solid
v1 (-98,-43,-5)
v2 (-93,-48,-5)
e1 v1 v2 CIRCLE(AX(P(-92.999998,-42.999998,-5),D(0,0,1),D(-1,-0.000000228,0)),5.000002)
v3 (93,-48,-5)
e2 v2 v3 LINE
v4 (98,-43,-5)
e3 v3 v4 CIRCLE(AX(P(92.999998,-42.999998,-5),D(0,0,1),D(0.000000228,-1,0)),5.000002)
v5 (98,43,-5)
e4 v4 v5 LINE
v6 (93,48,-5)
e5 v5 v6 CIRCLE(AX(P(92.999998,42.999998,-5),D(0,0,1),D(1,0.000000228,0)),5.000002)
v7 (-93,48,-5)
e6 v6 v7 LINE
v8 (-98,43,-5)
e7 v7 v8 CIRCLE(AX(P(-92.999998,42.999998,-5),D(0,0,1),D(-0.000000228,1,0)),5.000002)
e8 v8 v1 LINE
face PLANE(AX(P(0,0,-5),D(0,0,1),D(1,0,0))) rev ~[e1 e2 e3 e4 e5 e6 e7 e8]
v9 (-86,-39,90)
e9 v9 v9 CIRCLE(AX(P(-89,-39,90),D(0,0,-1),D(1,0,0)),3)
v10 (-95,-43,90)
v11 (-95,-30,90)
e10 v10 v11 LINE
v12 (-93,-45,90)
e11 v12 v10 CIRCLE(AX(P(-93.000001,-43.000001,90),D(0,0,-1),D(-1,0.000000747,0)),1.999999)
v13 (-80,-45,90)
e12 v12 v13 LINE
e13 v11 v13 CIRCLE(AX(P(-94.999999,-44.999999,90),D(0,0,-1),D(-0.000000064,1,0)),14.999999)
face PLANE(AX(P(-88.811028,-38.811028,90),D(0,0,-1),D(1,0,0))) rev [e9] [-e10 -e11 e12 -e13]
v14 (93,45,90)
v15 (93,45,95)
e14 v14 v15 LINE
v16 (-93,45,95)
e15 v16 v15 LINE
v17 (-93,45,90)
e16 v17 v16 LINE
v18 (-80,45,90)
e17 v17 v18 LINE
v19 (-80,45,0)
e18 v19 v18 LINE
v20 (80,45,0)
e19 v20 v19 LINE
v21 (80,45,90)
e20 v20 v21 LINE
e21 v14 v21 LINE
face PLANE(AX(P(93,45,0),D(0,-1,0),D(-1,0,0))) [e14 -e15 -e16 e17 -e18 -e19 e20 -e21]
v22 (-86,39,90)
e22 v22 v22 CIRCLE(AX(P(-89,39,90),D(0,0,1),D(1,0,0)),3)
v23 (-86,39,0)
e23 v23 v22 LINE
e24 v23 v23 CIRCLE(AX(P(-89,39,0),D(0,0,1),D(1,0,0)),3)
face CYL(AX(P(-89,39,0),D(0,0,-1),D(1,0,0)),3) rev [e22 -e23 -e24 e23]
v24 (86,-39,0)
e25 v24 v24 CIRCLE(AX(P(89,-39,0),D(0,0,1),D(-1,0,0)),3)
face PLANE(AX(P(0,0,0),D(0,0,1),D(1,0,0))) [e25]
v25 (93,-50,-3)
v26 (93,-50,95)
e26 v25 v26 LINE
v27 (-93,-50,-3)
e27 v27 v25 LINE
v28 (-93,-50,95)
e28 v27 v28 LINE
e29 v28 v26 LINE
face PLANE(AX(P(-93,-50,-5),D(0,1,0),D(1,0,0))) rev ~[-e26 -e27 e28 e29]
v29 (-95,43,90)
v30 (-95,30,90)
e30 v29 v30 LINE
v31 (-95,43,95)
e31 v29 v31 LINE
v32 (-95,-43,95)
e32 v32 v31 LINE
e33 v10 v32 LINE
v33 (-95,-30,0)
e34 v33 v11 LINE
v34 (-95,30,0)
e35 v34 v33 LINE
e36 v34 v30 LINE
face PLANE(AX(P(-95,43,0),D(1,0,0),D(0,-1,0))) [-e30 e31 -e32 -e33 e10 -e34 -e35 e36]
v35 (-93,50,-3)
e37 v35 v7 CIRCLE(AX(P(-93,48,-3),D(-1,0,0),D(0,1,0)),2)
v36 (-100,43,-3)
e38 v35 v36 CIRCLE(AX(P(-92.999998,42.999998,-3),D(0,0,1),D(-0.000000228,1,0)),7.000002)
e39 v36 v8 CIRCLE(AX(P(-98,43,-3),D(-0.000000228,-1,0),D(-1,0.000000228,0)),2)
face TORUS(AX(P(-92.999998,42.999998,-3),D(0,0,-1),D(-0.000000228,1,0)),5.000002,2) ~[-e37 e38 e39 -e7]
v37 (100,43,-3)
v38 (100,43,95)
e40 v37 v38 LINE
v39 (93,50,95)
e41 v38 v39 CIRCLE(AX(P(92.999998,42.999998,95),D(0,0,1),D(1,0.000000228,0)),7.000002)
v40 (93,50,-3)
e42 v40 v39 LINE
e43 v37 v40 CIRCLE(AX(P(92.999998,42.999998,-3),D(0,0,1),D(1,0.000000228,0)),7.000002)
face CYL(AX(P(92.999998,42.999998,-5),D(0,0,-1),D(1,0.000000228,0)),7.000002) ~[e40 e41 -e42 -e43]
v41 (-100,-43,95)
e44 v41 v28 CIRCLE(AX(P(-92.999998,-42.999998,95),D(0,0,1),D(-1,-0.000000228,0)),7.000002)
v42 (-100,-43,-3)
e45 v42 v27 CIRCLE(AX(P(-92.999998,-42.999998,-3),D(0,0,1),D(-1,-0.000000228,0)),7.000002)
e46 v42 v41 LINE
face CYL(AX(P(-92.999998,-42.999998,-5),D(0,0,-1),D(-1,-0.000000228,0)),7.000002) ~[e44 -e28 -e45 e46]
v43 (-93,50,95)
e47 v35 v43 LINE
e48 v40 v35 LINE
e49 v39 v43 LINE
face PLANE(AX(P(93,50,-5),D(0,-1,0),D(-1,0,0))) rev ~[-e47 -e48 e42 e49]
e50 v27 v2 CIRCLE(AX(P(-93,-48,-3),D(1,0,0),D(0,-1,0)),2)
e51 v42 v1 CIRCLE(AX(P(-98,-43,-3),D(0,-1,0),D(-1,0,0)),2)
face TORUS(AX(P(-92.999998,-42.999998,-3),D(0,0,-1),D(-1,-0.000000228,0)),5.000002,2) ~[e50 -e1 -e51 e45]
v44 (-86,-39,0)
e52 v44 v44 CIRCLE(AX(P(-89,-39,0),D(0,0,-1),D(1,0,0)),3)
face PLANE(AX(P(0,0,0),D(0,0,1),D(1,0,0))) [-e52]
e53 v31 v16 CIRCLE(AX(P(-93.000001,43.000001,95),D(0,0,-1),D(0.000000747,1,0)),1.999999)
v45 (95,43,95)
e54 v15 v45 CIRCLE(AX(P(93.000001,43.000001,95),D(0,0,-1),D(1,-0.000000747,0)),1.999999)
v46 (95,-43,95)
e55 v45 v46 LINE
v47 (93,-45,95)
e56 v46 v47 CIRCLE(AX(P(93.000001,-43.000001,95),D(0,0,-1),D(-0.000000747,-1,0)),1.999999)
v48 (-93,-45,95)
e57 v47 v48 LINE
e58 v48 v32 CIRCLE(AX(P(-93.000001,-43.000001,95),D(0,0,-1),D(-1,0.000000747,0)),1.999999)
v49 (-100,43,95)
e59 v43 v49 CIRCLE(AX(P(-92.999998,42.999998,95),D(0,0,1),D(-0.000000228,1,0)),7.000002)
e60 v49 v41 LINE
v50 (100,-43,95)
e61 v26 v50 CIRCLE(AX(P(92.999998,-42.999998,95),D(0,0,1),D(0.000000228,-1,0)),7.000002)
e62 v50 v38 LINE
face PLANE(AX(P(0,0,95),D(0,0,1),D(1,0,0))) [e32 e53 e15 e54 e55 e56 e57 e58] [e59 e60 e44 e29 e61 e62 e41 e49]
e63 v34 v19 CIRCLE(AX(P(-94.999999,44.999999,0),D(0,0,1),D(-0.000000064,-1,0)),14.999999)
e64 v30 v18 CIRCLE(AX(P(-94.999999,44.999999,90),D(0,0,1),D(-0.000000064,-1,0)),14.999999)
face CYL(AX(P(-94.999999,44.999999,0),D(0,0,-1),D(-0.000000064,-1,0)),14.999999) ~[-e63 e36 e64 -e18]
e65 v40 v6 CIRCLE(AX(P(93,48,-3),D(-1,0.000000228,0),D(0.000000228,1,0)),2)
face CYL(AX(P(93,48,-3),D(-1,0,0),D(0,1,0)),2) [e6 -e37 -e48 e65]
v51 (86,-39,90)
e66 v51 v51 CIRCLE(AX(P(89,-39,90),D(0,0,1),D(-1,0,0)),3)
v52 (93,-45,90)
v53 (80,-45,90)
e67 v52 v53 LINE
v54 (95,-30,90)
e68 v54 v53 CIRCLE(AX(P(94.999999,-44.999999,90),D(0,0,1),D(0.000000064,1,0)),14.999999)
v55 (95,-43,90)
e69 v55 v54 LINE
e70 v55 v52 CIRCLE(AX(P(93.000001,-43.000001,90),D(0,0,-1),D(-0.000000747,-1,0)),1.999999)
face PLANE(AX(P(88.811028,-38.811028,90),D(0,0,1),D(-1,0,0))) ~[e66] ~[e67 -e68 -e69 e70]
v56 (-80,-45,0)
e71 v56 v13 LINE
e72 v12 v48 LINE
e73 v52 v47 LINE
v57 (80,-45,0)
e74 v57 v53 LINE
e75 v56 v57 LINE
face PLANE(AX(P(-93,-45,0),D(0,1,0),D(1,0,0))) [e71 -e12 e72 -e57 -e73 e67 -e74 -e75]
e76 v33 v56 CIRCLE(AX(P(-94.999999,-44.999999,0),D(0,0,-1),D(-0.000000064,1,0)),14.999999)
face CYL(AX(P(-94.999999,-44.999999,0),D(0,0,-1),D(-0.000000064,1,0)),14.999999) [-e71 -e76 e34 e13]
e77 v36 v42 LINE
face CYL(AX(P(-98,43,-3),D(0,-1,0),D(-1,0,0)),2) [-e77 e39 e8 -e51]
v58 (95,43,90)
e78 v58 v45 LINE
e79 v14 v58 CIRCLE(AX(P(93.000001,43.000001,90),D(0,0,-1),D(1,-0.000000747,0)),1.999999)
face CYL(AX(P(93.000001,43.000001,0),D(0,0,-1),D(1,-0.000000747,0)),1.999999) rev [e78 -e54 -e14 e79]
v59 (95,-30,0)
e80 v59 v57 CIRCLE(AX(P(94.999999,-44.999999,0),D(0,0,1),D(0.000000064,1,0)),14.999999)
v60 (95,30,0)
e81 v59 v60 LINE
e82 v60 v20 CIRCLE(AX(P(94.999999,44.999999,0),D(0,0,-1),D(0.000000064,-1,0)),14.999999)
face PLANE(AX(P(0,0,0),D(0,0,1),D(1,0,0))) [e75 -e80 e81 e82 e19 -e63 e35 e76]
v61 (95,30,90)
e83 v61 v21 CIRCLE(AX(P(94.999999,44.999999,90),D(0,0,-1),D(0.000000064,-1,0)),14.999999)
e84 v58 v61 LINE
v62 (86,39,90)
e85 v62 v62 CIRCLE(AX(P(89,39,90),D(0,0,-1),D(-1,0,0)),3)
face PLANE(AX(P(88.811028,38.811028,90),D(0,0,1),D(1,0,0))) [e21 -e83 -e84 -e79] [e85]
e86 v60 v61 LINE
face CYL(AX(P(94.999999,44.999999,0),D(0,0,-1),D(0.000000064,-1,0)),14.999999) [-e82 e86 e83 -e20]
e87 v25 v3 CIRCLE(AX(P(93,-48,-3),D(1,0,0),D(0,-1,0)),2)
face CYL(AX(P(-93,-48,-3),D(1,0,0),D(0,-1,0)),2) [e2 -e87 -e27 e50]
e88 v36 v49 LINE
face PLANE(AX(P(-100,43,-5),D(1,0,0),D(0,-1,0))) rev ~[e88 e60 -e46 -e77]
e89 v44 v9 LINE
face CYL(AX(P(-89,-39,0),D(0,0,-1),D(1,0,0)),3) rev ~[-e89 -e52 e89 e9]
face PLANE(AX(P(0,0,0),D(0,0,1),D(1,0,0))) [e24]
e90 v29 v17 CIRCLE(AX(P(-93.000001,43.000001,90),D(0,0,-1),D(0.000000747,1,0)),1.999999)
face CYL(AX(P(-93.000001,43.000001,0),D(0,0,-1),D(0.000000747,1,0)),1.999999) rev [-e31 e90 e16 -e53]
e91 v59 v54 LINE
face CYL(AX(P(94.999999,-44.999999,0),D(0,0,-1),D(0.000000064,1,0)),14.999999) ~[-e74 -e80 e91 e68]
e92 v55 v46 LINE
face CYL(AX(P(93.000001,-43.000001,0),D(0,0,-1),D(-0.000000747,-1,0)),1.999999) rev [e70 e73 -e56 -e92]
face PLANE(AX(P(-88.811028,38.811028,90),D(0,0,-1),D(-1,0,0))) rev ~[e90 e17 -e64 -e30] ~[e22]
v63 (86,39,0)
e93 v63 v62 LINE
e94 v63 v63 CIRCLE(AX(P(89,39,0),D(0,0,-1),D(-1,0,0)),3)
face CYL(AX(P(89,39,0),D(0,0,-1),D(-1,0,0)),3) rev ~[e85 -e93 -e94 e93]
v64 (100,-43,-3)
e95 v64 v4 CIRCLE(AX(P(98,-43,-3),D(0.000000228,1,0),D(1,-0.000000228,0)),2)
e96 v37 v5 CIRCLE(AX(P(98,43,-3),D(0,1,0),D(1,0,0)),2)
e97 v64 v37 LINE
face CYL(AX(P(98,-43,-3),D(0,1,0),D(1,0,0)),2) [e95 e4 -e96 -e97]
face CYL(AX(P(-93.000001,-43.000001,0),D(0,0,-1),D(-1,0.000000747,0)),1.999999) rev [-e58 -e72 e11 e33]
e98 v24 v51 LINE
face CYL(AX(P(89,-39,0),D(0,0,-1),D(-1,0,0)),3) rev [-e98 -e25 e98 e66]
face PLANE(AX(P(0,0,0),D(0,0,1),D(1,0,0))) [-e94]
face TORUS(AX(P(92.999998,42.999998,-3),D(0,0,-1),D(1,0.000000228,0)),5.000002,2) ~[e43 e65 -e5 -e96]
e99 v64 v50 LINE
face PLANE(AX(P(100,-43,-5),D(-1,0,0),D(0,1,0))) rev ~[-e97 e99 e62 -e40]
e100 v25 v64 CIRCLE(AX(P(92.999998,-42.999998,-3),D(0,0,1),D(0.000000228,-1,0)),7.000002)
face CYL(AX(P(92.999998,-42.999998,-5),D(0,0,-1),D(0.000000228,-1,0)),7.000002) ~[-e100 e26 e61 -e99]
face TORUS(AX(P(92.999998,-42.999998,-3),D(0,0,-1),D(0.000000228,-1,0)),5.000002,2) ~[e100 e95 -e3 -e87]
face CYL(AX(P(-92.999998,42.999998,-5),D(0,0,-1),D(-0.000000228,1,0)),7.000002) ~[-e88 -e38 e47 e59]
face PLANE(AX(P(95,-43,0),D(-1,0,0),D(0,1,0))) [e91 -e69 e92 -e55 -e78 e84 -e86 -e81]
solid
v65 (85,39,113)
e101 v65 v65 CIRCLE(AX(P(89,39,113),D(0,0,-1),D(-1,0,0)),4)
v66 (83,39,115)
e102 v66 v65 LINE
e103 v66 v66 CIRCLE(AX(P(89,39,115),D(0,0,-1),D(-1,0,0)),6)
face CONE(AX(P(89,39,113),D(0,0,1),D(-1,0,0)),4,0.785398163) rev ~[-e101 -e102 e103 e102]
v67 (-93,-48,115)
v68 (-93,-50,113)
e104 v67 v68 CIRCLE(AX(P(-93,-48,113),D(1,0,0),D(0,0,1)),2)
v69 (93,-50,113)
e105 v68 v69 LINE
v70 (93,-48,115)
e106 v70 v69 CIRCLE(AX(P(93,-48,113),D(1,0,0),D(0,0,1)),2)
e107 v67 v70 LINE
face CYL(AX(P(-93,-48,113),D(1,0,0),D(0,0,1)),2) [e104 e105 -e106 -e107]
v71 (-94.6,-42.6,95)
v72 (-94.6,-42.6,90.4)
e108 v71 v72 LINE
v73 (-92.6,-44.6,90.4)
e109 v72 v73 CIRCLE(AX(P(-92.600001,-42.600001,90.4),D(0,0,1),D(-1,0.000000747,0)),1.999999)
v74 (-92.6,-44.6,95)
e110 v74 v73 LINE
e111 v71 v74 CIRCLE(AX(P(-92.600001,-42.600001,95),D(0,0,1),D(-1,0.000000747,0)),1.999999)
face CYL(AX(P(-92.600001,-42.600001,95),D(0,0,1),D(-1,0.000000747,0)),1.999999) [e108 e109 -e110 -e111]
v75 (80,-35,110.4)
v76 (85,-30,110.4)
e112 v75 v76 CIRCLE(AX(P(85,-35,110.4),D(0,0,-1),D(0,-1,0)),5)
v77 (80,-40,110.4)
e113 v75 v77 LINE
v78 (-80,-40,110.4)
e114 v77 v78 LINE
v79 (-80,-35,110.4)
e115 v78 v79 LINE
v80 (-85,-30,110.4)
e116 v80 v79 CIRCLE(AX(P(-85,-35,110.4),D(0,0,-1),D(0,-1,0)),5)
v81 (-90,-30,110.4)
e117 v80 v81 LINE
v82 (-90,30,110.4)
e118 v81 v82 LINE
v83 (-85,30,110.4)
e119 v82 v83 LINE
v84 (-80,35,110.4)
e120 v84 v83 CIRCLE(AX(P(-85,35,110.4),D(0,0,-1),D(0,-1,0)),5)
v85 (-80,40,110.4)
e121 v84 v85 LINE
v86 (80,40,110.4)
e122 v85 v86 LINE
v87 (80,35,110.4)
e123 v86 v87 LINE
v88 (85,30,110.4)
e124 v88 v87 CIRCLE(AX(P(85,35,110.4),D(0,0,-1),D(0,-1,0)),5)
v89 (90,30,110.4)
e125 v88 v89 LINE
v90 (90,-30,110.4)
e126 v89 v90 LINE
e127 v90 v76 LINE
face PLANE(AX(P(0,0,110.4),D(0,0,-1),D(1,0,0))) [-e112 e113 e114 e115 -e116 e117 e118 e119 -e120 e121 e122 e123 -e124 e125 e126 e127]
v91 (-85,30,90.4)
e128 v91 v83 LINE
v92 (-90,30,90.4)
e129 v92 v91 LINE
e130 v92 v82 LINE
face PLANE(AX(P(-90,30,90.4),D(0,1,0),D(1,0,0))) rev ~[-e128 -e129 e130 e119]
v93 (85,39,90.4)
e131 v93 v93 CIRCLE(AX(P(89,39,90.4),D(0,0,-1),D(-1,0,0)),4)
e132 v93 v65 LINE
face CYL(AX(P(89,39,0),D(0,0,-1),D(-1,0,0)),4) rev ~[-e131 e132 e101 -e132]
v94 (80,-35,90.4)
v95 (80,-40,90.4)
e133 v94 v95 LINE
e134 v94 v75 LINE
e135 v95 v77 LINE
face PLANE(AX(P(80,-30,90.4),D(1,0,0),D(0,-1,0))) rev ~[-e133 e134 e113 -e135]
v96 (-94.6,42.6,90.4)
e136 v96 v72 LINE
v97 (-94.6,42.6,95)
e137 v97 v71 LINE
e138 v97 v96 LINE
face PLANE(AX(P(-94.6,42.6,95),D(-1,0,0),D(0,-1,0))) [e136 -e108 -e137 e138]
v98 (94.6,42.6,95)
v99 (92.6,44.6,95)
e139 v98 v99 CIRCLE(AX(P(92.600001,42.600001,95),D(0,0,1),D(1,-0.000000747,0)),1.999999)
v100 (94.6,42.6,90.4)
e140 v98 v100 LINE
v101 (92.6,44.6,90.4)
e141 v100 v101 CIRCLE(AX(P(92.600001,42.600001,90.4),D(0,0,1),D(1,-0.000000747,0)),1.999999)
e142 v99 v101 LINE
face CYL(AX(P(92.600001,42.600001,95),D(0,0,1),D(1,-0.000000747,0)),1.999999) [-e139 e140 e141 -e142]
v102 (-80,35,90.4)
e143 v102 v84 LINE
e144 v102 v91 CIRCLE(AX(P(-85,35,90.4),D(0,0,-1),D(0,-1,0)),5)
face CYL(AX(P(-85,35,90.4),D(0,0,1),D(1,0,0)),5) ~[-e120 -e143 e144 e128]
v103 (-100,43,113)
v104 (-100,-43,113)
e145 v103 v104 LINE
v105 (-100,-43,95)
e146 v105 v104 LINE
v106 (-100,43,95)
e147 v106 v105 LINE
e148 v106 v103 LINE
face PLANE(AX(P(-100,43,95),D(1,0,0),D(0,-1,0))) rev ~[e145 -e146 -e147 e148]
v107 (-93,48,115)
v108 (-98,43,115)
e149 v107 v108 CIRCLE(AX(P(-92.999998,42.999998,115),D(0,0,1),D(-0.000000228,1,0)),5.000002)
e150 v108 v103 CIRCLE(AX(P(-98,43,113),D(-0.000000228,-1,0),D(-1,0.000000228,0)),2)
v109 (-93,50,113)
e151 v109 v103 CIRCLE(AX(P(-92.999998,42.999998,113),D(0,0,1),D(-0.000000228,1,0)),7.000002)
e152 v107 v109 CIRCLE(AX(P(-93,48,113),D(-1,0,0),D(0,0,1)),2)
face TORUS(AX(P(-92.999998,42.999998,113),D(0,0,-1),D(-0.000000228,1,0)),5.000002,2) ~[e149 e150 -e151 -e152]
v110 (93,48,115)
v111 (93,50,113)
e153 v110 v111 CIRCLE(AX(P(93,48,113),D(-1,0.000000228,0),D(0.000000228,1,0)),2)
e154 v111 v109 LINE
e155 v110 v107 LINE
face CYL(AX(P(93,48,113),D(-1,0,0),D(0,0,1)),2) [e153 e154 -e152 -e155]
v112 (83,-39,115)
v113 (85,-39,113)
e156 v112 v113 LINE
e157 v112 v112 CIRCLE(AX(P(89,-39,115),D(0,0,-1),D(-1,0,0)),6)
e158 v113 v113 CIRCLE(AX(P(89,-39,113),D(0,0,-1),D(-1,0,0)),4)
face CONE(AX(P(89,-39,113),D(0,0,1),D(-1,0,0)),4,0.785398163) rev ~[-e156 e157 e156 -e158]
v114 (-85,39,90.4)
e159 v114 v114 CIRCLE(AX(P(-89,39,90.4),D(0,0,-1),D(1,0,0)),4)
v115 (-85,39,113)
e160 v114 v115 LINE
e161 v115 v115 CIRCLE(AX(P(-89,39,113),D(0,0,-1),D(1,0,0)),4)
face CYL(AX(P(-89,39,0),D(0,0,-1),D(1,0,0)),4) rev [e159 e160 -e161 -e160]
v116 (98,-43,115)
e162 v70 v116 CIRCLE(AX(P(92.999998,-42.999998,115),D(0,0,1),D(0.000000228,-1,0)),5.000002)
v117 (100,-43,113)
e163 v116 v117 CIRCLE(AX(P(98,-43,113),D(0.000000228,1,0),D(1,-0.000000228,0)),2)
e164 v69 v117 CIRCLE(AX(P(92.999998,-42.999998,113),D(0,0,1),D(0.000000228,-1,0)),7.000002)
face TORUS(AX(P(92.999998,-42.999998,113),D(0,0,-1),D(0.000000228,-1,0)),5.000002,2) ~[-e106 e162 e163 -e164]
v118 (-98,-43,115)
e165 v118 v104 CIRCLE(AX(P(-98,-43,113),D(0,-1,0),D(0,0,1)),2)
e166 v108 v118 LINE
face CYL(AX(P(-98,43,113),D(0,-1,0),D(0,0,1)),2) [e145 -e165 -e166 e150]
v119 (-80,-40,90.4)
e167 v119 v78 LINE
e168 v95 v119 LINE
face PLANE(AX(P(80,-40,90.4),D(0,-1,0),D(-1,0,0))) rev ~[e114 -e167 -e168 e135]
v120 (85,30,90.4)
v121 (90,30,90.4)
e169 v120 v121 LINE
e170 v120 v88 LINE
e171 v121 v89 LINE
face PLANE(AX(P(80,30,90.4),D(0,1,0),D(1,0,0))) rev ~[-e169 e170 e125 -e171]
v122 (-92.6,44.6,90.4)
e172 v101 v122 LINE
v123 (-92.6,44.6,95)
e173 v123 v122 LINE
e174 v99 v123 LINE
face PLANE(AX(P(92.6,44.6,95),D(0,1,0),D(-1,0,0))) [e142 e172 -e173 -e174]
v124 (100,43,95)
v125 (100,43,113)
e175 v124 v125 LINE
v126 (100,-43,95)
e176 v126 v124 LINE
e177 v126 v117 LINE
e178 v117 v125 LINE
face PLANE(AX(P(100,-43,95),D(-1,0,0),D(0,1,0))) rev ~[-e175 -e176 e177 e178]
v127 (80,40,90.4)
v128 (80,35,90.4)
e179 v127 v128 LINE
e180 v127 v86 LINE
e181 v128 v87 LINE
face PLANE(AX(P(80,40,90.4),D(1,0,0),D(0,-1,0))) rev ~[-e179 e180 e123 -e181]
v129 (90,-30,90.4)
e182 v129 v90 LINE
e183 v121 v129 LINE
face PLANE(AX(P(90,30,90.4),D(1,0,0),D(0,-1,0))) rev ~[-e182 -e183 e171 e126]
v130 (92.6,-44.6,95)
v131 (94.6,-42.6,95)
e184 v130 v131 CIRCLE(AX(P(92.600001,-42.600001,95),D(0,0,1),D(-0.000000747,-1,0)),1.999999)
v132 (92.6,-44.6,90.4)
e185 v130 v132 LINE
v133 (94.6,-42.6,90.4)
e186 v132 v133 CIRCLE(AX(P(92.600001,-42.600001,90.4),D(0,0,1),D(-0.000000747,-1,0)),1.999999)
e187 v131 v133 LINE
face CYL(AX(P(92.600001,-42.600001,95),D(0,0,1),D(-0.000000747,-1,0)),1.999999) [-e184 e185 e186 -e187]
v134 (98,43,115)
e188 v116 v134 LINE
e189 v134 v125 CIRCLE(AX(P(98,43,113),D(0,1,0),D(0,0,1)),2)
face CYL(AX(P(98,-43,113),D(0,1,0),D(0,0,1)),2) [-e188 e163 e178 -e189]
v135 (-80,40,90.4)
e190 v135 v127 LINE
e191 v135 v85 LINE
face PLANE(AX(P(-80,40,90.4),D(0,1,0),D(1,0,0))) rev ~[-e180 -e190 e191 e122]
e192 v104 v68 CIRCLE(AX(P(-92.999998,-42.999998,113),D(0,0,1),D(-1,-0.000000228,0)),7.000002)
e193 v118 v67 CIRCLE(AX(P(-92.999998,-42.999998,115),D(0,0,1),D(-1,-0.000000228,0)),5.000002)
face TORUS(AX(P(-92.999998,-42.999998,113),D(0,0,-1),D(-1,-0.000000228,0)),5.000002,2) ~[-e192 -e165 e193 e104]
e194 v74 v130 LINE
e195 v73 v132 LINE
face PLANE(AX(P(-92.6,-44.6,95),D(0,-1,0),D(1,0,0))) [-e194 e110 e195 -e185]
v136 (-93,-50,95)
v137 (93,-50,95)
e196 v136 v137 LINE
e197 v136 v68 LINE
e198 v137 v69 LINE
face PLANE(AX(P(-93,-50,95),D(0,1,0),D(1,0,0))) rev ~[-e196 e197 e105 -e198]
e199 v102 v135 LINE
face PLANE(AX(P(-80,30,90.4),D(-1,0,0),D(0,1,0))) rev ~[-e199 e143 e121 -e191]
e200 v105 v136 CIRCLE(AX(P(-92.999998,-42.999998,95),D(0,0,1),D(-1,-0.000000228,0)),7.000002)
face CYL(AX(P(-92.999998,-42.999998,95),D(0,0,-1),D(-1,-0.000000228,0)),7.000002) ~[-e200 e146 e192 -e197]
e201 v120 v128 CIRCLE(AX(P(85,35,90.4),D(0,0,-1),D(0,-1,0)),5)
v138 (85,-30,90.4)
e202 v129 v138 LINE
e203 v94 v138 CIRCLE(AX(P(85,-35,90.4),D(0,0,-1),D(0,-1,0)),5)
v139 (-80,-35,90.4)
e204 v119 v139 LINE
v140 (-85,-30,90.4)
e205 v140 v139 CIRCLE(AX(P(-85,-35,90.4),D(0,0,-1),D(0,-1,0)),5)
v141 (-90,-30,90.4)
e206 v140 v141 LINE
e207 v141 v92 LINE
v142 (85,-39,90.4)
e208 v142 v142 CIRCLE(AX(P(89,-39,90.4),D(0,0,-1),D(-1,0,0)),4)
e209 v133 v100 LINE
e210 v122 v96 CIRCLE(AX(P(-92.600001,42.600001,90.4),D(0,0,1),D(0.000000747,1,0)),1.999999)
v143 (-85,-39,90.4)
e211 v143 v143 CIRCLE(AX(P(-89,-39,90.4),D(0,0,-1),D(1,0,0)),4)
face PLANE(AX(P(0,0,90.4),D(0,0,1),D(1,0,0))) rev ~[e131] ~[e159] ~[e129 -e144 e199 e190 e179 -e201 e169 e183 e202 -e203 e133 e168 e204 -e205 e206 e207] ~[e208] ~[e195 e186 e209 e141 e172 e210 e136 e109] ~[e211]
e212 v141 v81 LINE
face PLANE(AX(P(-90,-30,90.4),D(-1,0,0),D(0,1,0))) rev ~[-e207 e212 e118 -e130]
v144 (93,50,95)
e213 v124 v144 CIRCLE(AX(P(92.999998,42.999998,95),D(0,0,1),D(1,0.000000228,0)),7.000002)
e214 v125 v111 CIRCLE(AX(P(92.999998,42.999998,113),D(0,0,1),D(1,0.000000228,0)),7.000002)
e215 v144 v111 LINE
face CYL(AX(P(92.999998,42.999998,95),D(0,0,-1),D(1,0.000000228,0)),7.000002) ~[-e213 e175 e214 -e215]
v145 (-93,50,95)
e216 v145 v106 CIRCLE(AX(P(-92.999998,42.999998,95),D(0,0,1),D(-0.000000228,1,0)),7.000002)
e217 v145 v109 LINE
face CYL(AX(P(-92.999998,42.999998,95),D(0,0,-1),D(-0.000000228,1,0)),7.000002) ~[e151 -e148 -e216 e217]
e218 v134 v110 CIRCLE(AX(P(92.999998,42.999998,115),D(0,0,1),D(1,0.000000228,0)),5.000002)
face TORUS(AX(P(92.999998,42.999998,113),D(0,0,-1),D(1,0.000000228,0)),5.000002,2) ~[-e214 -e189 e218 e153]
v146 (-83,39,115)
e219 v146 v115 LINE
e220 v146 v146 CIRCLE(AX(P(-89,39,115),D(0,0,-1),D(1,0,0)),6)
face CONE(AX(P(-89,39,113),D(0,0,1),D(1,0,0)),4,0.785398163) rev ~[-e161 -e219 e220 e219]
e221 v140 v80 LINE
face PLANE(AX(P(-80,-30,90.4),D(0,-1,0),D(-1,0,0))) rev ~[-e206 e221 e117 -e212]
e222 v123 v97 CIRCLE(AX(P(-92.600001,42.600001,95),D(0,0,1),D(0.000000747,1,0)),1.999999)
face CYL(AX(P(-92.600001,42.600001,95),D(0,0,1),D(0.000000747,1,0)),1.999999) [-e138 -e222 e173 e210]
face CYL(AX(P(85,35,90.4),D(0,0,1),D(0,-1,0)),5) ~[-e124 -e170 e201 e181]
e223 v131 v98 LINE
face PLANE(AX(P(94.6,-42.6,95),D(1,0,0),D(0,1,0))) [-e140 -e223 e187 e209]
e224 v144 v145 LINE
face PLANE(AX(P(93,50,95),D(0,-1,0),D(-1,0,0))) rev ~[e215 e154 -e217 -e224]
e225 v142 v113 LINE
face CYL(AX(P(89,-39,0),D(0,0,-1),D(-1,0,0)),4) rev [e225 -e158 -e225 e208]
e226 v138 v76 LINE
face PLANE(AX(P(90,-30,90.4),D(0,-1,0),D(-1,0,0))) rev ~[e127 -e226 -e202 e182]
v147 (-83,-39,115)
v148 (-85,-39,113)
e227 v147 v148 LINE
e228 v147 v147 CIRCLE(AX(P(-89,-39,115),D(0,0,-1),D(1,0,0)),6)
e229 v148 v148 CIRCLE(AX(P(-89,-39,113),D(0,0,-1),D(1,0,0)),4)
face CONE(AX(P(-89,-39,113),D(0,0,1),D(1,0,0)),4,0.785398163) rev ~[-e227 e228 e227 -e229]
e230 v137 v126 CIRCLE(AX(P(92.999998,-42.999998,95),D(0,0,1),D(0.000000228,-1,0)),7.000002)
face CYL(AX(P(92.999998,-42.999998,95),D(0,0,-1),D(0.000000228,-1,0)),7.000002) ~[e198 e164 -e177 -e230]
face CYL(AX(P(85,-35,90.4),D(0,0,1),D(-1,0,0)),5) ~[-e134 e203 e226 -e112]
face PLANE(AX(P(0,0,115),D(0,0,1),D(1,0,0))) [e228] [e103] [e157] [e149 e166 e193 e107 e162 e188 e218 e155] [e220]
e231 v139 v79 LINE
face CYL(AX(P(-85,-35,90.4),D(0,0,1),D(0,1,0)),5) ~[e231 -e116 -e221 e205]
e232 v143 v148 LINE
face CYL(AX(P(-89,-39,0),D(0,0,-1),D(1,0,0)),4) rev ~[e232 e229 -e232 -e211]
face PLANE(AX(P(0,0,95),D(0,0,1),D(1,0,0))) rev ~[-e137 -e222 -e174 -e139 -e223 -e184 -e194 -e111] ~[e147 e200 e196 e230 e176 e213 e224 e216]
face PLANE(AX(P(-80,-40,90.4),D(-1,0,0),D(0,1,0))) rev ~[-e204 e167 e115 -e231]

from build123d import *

# Parameters (mm, degrees)
PAD_DEPTH                     = 100
POCKET_DEPTH                  = 95.001
SKETCH002_R                   = 3
PAD001_DEPTH                  = 90
SKETCH002_MIRRORED_2_R        = 3
PAD001_MIRRORED_2_DEPTH       = 90
FILLET_R                      = 2
PAD002_DEPTH                  = 20
PAD003_DEPTH                  = 4.6
SKETCH005_R                   = 4
POCKET001_DEPTH               = 564.912814
SKETCH005_MIRRORED002_2_R     = 4
POCKET001_MIRRORED002_2_DEPTH = 564.912814
CHAMFER_SIZE                  = 2
FILLET001_R                   = 2
POCKET002_DEPTH               = 20
FILLET002_R                   = 5


with BuildPart() as body:
    # Sketch → Pad (new body)
    with BuildSketch(Plane.XY.offset(-5)):
        with BuildLine():
            Line((100, -43), (100, 43))
            ThreePointArc((100, 43), (97.949747, 47.949747), (93, 50))
            Line((93, 50), (-93, 50))
            ThreePointArc((-93, 50), (-97.949747, 47.949747), (-100, 43))
            Line((-100, 43), (-100, -43))
            ThreePointArc((-100, -43), (-97.949747, -47.949747), (-93, -50))
            Line((-93, -50), (93, -50))
            ThreePointArc((93, -50), (97.949747, -47.949747), (100, -43))
        make_face()
    extrude(amount=PAD_DEPTH)

    # Sketch001 → Pocket (cut, through all)
    with BuildSketch(Plane.XY):
        with BuildLine():
            Line((95, -43), (95, 43))
            ThreePointArc((95, 43), (94.414214, 44.414214), (93, 45))
            Line((93, 45), (-93, 45))
            ThreePointArc((-93, 45), (-94.414214, 44.414214), (-95, 43))
            Line((-95, 43), (-95, -43))
            ThreePointArc((-95, -43), (-94.414214, -44.414214), (-93, -45))
            Line((-93, -45), (93, -45))
            ThreePointArc((93, -45), (94.414214, -44.414214), (95, -43))
        make_face()
    extrude(amount=POCKET_DEPTH, mode=Mode.SUBTRACT)

    # Sketch002 → Pad001 (join)
    with BuildSketch(Plane.XY):
        with BuildLine():
            Line((-95, 45), (-80, 45))
            ThreePointArc((-95, 30), (-84.393398, 34.393398), (-80, 45))
            Line((-95, 45), (-95, 30))
        make_face()
        with Locations((-89, 39)):
            Circle(SKETCH002_R, mode=Mode.SUBTRACT)
    pad001 = extrude(amount=PAD001_DEPTH)

    # Sketch002 Mirrored 2 → Pad001 Mirrored 2 (add)
    with BuildSketch(Plane(origin=(0, 0, 0), x_dir=(-1, 0, 0), z_dir=(0, 0, -1))):
        with BuildLine():
            Line((-95, 45), (-80, 45))
            ThreePointArc((-95, 30), (-84.393398, 34.393398), (-80, 45))
            Line((-95, 45), (-95, 30))
        make_face()
        with Locations((-89, 39)):
            Circle(SKETCH002_MIRRORED_2_R, mode=Mode.SUBTRACT)
    pad001_mirrored_2 = extrude(amount=-PAD001_MIRRORED_2_DEPTH)

    # Mirrored001: Pad001, Pad001 Mirrored 2 across Sketch002 H_Axis
    add(pad001.mirror(Plane.ZX))
    add(pad001_mirrored_2.mirror(Plane.ZX))

    # Fillet
    fillet_edges = [body.edges().sort_by_distance(p)[0] for p in [
        (0, -50, -5),
    ]]
    fillet(fillet_edges, radius=FILLET_R)


with BuildPart() as body001:
    # Sketch003 → Pad002 (new body)
    with BuildSketch(Plane.XY.offset(95)):
        with BuildLine():
            Line((100, -43), (100, 43))
            ThreePointArc((100, 43), (97.949747, 47.949747), (93, 50))
            Line((93, 50), (-93, 50))
            ThreePointArc((-93, 50), (-97.949747, 47.949747), (-100, 43))
            Line((-100, 43), (-100, -43))
            ThreePointArc((-100, -43), (-97.949747, -47.949747), (-93, -50))
            Line((-93, -50), (93, -50))
            ThreePointArc((93, -50), (97.949747, -47.949747), (100, -43))
        make_face()
    extrude(amount=PAD002_DEPTH)

    # Sketch004 → Pad003 (join)
    with BuildSketch(Plane.XY.offset(95)):
        with BuildLine():
            Line((94.6, -42.6), (94.6, 42.6))
            ThreePointArc((94.6, 42.6), (94.014214, 44.014214), (92.6, 44.6))
            Line((92.6, 44.6), (-92.6, 44.6))
            ThreePointArc((-92.6, 44.6), (-94.014214, 44.014214), (-94.6, 42.6))
            Line((-94.6, 42.6), (-94.6, -42.6))
            ThreePointArc((-94.6, -42.6), (-94.014214, -44.014214), (-92.6, -44.6))
            Line((-92.6, -44.6), (92.6, -44.6))
            ThreePointArc((92.6, -44.6), (94.014214, -44.014214), (94.6, -42.6))
        make_face()
    extrude(amount=-PAD003_DEPTH)

    # Sketch005 → Pocket001 (cut, through all)
    with BuildSketch(Plane.XY):
        with Locations((-89, 39)):
            Circle(SKETCH005_R)
    pocket001 = extrude(amount=POCKET001_DEPTH, mode=Mode.SUBTRACT)

    # Sketch005 Mirrored002 2 → Pocket001 Mirrored002 2 (cut, through all)
    with BuildSketch(Plane(origin=(0, 0, 0), x_dir=(1, 0, 0), z_dir=(0, 0, -1))):
        with Locations((-89, 39)):
            Circle(SKETCH005_MIRRORED002_2_R)
    pocket001_mirrored002_2 = extrude(amount=-POCKET001_MIRRORED002_2_DEPTH, mode=Mode.SUBTRACT)

    # Mirrored003: Pocket001, Pocket001 Mirrored002 2 across YZ
    add(pocket001.mirror(Plane.YZ), mode=Mode.SUBTRACT)
    add(pocket001_mirrored002_2.mirror(Plane.YZ), mode=Mode.SUBTRACT)

    # Chamfer
    chamfer_edges = [body001.edges().sort_by_distance(p)[0] for p in [
        (93, 39, 115),
        (-93, 39, 115),
        (-93, -39, 115),
        (93, -39, 115),
    ]]
    chamfer(chamfer_edges, length=CHAMFER_SIZE)

    # Fillet001
    fillet001_edges = [body001.edges().sort_by_distance(p)[0] for p in [
        (0, -50, 115),
    ]]
    fillet(fillet001_edges, radius=FILLET001_R)

    # Sketch006 (on Face27 of Fillet001) → Pocket002 (cut)
    with BuildSketch(Plane(origin=(0, 0, 90.4), x_dir=(1, 0, 0), z_dir=(0, 0, -1))):
        Polygon((90, -30), (90, 30), (80, 30), (80, 40), (-80, 40), (-80, 30), (-90, 30), (-90, -30), (-80, -30), (-80, -40), (80, -40), (80, -30), align=None)
    extrude(amount=-POCKET002_DEPTH, mode=Mode.SUBTRACT)

    # Fillet002
    fillet002_edges = [body001.edges().sort_by_distance(p)[0] for p in [
        (-80, -30, 100.4),
        (80, -30, 100.4),
        (-80, 30, 100.4),
        (80, 30, 100.4),
    ]]
    fillet(fillet002_edges, radius=FILLET002_R)


solid = Compound([body.part, body001.part])
